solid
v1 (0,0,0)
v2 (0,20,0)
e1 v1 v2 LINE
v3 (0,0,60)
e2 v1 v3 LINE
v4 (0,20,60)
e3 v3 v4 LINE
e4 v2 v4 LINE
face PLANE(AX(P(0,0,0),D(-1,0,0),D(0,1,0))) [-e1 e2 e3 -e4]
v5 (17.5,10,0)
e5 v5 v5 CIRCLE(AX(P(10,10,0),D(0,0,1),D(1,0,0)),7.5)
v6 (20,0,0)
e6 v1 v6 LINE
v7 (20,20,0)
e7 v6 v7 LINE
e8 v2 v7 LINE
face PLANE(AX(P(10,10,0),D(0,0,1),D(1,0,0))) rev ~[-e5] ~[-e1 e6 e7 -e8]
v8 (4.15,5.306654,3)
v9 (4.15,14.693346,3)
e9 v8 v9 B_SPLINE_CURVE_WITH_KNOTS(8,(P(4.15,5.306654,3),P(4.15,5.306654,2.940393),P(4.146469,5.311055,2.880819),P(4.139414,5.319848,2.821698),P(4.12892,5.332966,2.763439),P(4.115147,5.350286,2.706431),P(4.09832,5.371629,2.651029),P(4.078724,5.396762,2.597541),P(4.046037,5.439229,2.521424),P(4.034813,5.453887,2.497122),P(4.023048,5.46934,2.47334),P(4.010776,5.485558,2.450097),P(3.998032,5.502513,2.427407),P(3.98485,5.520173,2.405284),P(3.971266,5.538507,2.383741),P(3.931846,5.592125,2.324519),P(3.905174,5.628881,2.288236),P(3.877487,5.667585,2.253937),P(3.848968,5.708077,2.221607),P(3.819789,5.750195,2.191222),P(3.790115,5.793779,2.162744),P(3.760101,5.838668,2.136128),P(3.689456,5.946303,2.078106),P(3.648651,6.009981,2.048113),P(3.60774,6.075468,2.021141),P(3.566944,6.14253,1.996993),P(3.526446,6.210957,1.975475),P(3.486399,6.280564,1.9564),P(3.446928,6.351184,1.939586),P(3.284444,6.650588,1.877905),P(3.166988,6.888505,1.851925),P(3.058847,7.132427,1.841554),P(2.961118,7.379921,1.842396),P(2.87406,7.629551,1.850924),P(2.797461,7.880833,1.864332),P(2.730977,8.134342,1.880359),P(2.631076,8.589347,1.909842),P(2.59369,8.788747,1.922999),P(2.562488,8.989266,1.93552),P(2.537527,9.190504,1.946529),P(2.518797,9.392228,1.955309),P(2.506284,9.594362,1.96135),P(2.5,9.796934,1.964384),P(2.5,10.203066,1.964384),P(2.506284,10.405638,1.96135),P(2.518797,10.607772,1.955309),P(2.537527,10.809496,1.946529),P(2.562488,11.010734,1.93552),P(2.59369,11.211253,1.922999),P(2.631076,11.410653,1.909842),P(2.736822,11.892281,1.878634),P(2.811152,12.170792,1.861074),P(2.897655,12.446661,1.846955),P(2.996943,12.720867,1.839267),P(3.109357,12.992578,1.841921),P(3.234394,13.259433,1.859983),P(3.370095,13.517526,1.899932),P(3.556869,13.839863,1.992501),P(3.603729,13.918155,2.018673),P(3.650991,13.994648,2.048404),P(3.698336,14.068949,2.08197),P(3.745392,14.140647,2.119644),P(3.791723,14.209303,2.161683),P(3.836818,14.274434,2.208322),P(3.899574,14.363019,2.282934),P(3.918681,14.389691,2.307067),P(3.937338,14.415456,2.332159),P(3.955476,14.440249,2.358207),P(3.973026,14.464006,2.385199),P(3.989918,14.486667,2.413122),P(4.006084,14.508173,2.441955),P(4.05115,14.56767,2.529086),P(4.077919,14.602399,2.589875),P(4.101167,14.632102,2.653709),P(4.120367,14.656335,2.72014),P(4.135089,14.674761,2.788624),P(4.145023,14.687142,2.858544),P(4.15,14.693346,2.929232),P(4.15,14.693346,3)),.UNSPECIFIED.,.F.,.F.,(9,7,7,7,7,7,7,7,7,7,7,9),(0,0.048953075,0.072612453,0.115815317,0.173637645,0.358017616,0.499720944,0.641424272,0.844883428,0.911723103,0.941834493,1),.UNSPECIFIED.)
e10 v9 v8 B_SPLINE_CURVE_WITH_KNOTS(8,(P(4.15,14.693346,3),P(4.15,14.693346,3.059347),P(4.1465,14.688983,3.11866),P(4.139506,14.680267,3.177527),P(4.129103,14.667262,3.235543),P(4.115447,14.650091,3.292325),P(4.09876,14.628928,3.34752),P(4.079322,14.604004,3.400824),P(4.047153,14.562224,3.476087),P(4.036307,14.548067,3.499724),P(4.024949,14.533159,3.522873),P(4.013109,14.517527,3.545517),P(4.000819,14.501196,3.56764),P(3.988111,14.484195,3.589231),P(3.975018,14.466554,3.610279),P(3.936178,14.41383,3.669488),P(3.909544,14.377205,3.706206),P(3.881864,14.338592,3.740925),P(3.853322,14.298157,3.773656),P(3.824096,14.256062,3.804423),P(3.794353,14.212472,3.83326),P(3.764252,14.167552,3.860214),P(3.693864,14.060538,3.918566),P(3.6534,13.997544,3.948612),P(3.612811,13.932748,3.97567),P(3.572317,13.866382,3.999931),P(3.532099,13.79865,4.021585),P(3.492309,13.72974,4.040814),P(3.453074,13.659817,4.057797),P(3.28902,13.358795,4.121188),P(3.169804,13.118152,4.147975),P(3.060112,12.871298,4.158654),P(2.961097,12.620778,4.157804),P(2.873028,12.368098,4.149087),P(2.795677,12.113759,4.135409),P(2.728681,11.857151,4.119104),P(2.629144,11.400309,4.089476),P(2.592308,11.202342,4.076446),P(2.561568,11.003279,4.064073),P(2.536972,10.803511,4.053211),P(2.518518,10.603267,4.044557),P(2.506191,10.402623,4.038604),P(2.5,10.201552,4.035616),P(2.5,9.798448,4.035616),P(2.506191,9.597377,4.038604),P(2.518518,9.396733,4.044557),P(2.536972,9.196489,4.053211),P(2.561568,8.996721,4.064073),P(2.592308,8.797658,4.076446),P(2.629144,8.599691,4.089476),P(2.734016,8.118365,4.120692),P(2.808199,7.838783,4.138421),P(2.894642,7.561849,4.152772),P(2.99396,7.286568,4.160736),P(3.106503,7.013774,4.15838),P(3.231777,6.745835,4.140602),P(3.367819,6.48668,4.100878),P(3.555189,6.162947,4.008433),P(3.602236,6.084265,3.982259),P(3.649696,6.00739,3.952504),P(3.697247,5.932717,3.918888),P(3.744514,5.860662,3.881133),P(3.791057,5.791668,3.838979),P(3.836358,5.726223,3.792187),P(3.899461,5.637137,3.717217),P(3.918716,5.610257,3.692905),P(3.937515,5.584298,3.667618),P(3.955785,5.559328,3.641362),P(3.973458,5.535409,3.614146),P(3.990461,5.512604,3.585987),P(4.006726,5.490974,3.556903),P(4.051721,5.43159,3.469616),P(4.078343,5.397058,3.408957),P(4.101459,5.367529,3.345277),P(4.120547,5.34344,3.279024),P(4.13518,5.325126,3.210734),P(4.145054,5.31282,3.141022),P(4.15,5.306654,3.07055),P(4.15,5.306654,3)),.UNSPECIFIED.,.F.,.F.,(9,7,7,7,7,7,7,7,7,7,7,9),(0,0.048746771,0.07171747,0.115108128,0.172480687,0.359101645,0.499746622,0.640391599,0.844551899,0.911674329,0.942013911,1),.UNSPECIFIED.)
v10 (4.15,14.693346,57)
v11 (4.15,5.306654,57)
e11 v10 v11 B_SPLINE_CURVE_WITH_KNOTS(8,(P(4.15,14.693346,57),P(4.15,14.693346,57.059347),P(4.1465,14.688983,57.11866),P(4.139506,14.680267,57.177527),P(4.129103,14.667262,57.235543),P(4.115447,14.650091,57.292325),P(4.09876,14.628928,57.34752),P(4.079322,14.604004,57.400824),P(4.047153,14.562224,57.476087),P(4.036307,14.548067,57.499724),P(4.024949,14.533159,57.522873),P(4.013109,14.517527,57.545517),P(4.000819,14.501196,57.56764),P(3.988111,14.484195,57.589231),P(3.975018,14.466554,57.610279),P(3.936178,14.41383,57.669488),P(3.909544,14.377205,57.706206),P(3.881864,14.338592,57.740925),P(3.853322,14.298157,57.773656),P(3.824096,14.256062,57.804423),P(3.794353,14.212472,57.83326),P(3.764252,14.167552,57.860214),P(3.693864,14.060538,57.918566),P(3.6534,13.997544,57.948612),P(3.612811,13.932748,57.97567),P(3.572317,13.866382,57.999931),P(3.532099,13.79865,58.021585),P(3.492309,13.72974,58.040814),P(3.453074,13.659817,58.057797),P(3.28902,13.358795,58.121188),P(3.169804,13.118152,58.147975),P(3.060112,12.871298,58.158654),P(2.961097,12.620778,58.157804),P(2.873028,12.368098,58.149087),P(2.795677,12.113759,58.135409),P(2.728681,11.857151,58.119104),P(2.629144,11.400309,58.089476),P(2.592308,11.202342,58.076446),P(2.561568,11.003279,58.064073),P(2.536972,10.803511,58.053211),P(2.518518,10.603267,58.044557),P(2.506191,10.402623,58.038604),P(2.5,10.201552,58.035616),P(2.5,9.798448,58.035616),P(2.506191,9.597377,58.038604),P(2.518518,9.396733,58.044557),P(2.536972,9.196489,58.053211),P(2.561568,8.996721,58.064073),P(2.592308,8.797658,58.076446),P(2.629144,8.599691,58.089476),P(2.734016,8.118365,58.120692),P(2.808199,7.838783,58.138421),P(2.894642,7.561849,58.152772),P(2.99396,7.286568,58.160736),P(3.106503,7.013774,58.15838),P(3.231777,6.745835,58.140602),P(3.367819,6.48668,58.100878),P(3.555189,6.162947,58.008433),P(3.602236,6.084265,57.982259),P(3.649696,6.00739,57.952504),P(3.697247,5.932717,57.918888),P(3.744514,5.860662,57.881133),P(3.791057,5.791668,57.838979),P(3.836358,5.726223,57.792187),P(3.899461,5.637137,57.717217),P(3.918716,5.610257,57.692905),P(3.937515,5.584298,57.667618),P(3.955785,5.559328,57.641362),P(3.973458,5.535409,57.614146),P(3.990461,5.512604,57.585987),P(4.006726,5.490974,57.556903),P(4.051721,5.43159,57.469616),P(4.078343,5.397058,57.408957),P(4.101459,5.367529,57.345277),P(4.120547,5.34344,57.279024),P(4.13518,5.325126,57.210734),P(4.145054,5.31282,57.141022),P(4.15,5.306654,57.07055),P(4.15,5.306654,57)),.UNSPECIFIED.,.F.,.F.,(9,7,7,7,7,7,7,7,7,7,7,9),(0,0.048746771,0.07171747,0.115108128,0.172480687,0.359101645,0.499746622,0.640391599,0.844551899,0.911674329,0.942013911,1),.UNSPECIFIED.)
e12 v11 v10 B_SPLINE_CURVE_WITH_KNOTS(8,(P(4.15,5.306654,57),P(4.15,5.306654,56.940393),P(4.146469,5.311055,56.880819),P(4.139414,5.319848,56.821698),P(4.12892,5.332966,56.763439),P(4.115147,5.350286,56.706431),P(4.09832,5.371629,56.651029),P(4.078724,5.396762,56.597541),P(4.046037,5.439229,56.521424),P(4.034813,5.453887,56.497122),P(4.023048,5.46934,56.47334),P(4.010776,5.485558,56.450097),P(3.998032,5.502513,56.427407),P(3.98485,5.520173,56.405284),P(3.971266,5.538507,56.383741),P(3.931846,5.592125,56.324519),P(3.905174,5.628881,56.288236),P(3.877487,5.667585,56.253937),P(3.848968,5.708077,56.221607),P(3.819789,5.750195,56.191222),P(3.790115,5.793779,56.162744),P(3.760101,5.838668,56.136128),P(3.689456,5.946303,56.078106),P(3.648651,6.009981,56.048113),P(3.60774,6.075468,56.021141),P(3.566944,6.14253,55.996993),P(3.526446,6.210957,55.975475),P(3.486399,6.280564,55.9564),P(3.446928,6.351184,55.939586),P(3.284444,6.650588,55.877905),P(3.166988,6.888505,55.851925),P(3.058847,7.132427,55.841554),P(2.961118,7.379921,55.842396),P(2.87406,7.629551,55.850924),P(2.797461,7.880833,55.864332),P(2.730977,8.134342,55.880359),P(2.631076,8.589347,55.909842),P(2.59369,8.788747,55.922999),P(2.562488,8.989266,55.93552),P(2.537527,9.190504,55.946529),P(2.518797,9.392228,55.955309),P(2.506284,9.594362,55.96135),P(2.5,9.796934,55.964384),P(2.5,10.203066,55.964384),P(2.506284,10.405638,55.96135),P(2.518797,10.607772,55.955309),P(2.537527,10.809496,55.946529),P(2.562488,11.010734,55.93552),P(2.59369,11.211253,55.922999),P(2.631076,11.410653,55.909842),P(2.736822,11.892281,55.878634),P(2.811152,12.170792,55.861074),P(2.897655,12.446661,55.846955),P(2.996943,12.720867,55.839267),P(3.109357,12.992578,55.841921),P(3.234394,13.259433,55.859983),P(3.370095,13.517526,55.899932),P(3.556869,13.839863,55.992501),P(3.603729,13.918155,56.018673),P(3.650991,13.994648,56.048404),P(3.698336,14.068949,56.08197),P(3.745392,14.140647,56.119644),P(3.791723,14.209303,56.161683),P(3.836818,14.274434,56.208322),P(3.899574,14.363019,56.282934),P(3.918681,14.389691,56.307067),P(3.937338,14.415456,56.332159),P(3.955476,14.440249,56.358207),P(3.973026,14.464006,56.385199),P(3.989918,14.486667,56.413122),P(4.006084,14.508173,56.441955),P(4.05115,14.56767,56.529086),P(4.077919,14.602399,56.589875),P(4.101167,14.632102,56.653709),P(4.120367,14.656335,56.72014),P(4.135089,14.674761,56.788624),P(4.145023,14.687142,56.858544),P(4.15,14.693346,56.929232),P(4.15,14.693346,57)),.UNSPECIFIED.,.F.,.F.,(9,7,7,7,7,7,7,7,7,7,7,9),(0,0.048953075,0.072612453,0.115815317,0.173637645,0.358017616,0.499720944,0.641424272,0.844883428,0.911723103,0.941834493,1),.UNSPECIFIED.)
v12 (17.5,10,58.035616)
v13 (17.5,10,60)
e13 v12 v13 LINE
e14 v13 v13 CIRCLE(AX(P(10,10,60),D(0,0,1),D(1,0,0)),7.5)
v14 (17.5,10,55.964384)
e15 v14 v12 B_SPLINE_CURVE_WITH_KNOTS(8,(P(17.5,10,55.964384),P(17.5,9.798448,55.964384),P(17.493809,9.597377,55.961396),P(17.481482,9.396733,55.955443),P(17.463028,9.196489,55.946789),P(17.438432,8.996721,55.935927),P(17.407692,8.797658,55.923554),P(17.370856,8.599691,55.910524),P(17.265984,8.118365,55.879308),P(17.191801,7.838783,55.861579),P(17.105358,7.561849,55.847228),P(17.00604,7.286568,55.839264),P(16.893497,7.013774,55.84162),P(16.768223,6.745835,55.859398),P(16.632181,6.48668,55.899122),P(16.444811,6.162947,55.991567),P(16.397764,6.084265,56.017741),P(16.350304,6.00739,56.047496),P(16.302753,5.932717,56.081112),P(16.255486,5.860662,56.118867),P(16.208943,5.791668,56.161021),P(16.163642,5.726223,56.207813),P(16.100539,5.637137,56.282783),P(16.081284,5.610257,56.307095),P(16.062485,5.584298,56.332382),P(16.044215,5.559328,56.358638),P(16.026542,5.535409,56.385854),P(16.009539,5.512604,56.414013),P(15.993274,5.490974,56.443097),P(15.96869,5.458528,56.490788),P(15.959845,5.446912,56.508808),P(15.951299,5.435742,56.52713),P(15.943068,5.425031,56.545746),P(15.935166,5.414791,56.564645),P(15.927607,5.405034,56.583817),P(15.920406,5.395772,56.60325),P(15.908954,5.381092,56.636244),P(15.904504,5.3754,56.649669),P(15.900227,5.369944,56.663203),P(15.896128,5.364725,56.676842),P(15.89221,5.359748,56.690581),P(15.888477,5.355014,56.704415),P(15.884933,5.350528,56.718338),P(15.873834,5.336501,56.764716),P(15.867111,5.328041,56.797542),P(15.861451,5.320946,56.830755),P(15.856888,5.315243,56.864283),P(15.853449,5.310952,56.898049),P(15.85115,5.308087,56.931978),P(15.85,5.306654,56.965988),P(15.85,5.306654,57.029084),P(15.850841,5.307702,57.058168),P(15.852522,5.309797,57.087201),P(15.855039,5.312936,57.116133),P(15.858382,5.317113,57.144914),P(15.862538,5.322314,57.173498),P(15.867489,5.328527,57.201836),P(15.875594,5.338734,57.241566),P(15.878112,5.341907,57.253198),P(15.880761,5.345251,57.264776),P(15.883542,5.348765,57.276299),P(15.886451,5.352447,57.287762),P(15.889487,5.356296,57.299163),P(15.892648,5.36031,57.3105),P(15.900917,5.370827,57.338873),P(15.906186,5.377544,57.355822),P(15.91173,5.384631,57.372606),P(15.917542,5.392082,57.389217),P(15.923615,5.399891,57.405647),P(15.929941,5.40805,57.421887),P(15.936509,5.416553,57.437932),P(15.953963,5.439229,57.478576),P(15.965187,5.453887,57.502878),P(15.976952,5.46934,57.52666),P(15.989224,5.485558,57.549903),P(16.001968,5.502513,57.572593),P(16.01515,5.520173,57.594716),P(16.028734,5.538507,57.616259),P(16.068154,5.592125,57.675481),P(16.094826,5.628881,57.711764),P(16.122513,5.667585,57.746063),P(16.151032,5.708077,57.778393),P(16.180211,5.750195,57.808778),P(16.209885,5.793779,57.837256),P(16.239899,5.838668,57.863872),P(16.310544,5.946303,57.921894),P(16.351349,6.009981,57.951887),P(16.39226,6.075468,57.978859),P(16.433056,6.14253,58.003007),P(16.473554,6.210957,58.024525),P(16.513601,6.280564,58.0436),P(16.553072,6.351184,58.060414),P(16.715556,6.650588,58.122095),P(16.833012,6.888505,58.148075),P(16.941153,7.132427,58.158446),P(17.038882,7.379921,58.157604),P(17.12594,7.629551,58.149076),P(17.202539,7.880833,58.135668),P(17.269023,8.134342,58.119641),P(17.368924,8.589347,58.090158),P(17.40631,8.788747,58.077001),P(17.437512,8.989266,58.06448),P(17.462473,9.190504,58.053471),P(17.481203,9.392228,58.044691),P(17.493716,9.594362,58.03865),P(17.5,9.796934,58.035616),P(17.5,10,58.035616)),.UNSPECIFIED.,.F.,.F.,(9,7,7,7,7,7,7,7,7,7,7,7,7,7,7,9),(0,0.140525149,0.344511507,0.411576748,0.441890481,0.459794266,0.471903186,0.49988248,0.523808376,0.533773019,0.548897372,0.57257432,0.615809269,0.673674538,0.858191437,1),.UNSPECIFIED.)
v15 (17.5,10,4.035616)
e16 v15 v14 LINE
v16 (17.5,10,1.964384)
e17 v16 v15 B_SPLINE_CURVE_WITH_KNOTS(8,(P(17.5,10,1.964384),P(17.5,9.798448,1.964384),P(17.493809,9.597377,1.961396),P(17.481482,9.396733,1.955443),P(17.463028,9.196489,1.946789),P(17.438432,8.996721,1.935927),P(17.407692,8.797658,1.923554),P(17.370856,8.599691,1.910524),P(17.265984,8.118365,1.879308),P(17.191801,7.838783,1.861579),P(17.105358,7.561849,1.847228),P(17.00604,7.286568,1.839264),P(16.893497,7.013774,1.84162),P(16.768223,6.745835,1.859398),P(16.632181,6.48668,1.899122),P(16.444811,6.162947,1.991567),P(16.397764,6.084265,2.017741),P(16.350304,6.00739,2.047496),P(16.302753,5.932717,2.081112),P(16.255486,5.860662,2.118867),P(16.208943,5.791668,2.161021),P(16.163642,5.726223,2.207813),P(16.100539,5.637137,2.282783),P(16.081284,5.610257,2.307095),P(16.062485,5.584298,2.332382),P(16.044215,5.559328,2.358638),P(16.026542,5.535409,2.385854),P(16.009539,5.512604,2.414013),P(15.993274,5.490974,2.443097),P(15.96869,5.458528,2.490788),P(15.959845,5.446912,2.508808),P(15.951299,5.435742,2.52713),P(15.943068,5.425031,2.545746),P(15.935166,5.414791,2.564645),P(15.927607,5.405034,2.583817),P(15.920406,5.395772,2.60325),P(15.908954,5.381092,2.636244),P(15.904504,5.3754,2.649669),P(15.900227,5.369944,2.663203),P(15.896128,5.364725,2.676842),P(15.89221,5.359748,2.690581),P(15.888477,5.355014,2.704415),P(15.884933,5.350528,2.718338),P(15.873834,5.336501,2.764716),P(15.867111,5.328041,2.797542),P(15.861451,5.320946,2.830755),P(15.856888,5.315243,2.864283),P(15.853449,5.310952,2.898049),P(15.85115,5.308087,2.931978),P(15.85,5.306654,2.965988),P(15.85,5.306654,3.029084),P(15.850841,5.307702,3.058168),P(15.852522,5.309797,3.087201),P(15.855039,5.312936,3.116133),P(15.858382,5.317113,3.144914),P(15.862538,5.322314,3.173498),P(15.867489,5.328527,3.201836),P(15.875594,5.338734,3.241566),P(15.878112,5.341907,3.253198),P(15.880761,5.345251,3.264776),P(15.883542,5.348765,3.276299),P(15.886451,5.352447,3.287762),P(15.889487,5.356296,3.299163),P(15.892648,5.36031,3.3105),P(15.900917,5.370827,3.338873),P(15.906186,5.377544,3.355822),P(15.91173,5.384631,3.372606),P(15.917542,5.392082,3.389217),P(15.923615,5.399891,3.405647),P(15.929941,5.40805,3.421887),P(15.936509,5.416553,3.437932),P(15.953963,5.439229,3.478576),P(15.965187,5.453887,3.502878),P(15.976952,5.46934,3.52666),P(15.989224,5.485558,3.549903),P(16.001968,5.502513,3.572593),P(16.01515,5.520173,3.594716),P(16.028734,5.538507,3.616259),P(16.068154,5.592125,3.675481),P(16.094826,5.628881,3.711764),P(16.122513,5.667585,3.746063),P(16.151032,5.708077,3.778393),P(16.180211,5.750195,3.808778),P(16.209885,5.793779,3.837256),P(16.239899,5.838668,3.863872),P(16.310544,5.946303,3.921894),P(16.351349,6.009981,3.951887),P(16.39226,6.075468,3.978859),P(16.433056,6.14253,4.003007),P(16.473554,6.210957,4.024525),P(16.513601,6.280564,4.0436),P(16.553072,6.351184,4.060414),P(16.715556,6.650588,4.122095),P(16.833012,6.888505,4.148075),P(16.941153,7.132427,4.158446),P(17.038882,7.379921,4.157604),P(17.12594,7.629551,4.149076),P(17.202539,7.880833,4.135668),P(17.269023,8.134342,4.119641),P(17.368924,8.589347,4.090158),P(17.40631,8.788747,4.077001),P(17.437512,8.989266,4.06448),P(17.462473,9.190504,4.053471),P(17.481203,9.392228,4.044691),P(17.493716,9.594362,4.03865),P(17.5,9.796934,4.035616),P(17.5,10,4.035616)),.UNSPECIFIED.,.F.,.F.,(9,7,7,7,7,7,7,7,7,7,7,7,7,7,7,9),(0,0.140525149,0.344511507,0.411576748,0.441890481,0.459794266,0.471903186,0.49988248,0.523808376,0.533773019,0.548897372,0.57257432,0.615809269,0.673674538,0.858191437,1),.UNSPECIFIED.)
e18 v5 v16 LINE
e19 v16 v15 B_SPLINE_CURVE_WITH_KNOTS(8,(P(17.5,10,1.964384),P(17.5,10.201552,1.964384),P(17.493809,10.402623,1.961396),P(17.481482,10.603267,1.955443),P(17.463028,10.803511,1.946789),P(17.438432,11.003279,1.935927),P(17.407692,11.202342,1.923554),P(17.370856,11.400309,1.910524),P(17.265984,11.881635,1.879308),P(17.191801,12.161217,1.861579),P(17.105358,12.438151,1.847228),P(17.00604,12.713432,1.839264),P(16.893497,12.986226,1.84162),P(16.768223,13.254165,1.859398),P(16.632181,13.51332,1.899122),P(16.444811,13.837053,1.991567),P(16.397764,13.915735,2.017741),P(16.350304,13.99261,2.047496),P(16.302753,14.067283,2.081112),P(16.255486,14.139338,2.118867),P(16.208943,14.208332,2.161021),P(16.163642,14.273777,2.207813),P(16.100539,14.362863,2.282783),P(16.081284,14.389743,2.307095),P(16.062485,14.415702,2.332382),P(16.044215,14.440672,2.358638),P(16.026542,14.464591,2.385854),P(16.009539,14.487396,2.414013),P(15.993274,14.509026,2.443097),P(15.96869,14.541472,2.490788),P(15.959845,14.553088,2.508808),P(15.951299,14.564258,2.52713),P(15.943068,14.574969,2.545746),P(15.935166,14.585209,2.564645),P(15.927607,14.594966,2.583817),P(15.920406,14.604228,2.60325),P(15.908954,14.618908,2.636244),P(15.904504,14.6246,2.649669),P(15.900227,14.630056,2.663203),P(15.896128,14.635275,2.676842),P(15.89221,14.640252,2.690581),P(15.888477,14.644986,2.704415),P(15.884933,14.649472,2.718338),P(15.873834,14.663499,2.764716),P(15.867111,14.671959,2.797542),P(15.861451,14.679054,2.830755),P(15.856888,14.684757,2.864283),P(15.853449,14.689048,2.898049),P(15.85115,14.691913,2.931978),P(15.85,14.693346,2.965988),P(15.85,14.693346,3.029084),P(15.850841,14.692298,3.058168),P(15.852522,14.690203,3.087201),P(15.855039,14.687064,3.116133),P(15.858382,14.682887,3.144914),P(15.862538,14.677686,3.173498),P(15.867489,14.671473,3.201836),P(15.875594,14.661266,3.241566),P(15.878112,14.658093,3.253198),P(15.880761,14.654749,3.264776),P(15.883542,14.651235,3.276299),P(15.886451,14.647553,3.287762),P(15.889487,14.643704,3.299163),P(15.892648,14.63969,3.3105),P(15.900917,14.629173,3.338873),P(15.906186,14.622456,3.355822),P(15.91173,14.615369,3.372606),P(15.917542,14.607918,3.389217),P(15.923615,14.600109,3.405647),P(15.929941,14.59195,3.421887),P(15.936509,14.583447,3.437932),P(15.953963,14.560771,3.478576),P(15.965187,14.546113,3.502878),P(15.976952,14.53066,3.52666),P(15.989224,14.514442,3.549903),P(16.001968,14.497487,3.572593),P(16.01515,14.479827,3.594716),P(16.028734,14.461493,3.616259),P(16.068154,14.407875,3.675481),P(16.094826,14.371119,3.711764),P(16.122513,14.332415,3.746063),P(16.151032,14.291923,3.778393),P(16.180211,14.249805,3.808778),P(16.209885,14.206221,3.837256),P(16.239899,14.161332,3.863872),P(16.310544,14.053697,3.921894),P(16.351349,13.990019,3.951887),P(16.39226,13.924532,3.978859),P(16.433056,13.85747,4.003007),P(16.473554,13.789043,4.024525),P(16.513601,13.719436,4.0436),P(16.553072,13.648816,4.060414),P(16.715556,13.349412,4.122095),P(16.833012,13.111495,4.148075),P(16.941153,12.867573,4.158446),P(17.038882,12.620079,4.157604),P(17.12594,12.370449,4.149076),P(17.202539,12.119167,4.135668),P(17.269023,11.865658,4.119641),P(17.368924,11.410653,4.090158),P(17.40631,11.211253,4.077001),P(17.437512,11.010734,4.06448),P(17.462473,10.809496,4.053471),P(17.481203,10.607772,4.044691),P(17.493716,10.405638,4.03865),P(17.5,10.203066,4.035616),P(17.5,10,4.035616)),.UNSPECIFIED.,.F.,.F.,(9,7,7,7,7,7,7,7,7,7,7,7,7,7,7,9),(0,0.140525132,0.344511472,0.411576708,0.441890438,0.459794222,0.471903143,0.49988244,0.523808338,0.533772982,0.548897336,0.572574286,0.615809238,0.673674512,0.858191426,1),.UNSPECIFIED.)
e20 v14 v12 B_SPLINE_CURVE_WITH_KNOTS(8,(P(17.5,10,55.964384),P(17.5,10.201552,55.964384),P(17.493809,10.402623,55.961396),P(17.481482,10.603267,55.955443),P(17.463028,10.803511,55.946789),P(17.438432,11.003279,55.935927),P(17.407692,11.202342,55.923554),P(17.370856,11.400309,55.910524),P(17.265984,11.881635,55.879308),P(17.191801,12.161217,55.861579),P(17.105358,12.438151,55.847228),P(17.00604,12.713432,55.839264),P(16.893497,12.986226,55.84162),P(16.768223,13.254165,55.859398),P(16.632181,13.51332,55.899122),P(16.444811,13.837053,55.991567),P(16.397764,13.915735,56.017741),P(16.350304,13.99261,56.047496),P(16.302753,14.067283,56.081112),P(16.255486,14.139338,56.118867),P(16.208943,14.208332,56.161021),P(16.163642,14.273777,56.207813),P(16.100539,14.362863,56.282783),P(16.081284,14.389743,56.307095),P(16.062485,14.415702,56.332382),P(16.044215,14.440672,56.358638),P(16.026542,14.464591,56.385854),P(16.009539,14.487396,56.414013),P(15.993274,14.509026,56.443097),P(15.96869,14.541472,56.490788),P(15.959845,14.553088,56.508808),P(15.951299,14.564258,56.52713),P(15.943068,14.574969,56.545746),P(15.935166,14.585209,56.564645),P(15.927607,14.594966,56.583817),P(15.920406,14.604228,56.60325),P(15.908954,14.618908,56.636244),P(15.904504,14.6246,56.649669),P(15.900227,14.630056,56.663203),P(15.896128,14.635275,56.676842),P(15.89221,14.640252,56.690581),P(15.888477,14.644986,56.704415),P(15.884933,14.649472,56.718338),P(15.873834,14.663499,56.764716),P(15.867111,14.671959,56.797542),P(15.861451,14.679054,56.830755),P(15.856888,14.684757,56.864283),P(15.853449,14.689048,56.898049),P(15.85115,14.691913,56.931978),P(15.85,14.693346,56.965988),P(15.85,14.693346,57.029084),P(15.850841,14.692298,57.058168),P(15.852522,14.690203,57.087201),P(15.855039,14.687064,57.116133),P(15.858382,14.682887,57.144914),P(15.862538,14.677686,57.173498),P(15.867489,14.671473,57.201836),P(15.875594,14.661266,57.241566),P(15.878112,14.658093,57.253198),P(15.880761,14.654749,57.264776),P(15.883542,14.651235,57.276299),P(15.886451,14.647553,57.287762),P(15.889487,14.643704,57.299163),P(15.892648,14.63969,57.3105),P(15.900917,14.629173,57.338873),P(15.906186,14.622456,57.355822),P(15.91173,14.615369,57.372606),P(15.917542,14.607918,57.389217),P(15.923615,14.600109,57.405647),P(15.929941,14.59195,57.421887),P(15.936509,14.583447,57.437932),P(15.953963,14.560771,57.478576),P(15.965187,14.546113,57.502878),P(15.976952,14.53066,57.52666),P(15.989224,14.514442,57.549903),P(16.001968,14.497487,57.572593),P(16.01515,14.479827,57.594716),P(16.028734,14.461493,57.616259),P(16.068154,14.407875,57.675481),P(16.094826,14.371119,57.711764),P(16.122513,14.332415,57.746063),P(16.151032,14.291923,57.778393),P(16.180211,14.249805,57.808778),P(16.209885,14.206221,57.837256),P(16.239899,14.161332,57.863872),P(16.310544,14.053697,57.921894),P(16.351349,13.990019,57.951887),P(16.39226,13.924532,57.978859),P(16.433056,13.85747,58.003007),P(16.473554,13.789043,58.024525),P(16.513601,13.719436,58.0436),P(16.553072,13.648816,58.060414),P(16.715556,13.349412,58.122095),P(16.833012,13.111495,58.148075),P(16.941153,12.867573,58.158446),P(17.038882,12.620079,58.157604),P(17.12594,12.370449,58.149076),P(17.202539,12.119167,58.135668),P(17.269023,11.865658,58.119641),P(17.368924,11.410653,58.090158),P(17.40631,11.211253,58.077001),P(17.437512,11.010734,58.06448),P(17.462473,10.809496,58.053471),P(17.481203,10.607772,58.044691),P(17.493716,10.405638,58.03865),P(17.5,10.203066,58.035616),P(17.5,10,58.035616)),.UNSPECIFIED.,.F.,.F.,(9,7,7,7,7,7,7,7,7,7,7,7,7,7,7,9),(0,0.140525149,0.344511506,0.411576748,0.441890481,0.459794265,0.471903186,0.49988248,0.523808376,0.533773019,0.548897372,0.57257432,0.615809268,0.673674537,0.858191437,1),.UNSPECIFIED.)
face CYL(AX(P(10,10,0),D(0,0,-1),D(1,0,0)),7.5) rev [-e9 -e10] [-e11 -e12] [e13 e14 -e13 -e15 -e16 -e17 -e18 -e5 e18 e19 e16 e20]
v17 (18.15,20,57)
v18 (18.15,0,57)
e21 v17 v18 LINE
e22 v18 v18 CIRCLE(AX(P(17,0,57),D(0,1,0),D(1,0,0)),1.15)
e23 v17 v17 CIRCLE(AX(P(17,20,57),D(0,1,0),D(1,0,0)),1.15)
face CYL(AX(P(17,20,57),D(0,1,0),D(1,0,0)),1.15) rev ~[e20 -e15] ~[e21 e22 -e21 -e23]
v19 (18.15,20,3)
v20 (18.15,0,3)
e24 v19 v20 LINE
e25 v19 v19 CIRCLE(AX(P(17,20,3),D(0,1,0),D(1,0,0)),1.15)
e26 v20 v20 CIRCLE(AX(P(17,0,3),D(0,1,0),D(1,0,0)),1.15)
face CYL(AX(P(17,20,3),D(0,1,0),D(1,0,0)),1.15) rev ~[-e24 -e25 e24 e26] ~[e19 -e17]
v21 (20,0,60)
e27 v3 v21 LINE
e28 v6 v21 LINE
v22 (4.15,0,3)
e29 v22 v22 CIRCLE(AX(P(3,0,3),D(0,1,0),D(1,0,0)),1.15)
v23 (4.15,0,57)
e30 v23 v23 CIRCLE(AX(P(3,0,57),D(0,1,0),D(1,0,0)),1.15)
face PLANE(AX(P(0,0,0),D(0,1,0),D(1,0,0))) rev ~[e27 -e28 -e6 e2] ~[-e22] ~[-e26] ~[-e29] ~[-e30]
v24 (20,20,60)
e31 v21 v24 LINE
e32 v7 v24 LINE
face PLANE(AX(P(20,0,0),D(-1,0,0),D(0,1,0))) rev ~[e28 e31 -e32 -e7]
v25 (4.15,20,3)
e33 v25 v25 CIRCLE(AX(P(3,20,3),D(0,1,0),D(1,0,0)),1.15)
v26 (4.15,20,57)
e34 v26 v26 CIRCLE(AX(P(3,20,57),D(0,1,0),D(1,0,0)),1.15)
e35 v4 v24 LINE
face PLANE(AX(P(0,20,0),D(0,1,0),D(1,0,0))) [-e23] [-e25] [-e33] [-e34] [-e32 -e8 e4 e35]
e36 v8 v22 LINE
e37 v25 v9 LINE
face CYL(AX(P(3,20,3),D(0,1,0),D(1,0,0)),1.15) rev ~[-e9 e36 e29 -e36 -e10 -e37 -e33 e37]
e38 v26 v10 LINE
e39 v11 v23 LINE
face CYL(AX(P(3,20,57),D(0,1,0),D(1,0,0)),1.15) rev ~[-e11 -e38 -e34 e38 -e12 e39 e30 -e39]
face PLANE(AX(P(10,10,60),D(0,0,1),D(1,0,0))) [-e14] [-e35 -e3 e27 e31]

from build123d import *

# Parameters (mm, degrees)
SKETCH1_W           = 20
SKETCH1_H           = 20
SKETCH1_R           = 7.5
BOSS_EXTRUDE1_DEPTH = 60
SKETCH2_R           = 1.15
CUT_EXTRUDE1_DEPTH  = 21


with BuildPart() as part:
    # Sketch1 → Boss-Extrude1 (new body)
    with BuildSketch(Plane.XY):
        with Locations((10, 10)):
            Rectangle(SKETCH1_W, SKETCH1_H)
        with Locations((10, 10)):
            Circle(SKETCH1_R, mode=Mode.SUBTRACT)
    extrude(amount=BOSS_EXTRUDE1_DEPTH)

    # Sketch2 → Cut-Extrude1 (cut, through all)
    with BuildSketch(Plane(origin=(0, 20, 0), x_dir=(1, 0, 0), z_dir=(0, 1, 0))):
        with Locations((3, -57)):
            Circle(SKETCH2_R)
        with Locations((17, -57)):
            Circle(SKETCH2_R)
        with Locations((3, -3)):
            Circle(SKETCH2_R)
        with Locations((17, -3)):
            Circle(SKETCH2_R)
    extrude(amount=-CUT_EXTRUDE1_DEPTH, mode=Mode.SUBTRACT)


solid = part.part
